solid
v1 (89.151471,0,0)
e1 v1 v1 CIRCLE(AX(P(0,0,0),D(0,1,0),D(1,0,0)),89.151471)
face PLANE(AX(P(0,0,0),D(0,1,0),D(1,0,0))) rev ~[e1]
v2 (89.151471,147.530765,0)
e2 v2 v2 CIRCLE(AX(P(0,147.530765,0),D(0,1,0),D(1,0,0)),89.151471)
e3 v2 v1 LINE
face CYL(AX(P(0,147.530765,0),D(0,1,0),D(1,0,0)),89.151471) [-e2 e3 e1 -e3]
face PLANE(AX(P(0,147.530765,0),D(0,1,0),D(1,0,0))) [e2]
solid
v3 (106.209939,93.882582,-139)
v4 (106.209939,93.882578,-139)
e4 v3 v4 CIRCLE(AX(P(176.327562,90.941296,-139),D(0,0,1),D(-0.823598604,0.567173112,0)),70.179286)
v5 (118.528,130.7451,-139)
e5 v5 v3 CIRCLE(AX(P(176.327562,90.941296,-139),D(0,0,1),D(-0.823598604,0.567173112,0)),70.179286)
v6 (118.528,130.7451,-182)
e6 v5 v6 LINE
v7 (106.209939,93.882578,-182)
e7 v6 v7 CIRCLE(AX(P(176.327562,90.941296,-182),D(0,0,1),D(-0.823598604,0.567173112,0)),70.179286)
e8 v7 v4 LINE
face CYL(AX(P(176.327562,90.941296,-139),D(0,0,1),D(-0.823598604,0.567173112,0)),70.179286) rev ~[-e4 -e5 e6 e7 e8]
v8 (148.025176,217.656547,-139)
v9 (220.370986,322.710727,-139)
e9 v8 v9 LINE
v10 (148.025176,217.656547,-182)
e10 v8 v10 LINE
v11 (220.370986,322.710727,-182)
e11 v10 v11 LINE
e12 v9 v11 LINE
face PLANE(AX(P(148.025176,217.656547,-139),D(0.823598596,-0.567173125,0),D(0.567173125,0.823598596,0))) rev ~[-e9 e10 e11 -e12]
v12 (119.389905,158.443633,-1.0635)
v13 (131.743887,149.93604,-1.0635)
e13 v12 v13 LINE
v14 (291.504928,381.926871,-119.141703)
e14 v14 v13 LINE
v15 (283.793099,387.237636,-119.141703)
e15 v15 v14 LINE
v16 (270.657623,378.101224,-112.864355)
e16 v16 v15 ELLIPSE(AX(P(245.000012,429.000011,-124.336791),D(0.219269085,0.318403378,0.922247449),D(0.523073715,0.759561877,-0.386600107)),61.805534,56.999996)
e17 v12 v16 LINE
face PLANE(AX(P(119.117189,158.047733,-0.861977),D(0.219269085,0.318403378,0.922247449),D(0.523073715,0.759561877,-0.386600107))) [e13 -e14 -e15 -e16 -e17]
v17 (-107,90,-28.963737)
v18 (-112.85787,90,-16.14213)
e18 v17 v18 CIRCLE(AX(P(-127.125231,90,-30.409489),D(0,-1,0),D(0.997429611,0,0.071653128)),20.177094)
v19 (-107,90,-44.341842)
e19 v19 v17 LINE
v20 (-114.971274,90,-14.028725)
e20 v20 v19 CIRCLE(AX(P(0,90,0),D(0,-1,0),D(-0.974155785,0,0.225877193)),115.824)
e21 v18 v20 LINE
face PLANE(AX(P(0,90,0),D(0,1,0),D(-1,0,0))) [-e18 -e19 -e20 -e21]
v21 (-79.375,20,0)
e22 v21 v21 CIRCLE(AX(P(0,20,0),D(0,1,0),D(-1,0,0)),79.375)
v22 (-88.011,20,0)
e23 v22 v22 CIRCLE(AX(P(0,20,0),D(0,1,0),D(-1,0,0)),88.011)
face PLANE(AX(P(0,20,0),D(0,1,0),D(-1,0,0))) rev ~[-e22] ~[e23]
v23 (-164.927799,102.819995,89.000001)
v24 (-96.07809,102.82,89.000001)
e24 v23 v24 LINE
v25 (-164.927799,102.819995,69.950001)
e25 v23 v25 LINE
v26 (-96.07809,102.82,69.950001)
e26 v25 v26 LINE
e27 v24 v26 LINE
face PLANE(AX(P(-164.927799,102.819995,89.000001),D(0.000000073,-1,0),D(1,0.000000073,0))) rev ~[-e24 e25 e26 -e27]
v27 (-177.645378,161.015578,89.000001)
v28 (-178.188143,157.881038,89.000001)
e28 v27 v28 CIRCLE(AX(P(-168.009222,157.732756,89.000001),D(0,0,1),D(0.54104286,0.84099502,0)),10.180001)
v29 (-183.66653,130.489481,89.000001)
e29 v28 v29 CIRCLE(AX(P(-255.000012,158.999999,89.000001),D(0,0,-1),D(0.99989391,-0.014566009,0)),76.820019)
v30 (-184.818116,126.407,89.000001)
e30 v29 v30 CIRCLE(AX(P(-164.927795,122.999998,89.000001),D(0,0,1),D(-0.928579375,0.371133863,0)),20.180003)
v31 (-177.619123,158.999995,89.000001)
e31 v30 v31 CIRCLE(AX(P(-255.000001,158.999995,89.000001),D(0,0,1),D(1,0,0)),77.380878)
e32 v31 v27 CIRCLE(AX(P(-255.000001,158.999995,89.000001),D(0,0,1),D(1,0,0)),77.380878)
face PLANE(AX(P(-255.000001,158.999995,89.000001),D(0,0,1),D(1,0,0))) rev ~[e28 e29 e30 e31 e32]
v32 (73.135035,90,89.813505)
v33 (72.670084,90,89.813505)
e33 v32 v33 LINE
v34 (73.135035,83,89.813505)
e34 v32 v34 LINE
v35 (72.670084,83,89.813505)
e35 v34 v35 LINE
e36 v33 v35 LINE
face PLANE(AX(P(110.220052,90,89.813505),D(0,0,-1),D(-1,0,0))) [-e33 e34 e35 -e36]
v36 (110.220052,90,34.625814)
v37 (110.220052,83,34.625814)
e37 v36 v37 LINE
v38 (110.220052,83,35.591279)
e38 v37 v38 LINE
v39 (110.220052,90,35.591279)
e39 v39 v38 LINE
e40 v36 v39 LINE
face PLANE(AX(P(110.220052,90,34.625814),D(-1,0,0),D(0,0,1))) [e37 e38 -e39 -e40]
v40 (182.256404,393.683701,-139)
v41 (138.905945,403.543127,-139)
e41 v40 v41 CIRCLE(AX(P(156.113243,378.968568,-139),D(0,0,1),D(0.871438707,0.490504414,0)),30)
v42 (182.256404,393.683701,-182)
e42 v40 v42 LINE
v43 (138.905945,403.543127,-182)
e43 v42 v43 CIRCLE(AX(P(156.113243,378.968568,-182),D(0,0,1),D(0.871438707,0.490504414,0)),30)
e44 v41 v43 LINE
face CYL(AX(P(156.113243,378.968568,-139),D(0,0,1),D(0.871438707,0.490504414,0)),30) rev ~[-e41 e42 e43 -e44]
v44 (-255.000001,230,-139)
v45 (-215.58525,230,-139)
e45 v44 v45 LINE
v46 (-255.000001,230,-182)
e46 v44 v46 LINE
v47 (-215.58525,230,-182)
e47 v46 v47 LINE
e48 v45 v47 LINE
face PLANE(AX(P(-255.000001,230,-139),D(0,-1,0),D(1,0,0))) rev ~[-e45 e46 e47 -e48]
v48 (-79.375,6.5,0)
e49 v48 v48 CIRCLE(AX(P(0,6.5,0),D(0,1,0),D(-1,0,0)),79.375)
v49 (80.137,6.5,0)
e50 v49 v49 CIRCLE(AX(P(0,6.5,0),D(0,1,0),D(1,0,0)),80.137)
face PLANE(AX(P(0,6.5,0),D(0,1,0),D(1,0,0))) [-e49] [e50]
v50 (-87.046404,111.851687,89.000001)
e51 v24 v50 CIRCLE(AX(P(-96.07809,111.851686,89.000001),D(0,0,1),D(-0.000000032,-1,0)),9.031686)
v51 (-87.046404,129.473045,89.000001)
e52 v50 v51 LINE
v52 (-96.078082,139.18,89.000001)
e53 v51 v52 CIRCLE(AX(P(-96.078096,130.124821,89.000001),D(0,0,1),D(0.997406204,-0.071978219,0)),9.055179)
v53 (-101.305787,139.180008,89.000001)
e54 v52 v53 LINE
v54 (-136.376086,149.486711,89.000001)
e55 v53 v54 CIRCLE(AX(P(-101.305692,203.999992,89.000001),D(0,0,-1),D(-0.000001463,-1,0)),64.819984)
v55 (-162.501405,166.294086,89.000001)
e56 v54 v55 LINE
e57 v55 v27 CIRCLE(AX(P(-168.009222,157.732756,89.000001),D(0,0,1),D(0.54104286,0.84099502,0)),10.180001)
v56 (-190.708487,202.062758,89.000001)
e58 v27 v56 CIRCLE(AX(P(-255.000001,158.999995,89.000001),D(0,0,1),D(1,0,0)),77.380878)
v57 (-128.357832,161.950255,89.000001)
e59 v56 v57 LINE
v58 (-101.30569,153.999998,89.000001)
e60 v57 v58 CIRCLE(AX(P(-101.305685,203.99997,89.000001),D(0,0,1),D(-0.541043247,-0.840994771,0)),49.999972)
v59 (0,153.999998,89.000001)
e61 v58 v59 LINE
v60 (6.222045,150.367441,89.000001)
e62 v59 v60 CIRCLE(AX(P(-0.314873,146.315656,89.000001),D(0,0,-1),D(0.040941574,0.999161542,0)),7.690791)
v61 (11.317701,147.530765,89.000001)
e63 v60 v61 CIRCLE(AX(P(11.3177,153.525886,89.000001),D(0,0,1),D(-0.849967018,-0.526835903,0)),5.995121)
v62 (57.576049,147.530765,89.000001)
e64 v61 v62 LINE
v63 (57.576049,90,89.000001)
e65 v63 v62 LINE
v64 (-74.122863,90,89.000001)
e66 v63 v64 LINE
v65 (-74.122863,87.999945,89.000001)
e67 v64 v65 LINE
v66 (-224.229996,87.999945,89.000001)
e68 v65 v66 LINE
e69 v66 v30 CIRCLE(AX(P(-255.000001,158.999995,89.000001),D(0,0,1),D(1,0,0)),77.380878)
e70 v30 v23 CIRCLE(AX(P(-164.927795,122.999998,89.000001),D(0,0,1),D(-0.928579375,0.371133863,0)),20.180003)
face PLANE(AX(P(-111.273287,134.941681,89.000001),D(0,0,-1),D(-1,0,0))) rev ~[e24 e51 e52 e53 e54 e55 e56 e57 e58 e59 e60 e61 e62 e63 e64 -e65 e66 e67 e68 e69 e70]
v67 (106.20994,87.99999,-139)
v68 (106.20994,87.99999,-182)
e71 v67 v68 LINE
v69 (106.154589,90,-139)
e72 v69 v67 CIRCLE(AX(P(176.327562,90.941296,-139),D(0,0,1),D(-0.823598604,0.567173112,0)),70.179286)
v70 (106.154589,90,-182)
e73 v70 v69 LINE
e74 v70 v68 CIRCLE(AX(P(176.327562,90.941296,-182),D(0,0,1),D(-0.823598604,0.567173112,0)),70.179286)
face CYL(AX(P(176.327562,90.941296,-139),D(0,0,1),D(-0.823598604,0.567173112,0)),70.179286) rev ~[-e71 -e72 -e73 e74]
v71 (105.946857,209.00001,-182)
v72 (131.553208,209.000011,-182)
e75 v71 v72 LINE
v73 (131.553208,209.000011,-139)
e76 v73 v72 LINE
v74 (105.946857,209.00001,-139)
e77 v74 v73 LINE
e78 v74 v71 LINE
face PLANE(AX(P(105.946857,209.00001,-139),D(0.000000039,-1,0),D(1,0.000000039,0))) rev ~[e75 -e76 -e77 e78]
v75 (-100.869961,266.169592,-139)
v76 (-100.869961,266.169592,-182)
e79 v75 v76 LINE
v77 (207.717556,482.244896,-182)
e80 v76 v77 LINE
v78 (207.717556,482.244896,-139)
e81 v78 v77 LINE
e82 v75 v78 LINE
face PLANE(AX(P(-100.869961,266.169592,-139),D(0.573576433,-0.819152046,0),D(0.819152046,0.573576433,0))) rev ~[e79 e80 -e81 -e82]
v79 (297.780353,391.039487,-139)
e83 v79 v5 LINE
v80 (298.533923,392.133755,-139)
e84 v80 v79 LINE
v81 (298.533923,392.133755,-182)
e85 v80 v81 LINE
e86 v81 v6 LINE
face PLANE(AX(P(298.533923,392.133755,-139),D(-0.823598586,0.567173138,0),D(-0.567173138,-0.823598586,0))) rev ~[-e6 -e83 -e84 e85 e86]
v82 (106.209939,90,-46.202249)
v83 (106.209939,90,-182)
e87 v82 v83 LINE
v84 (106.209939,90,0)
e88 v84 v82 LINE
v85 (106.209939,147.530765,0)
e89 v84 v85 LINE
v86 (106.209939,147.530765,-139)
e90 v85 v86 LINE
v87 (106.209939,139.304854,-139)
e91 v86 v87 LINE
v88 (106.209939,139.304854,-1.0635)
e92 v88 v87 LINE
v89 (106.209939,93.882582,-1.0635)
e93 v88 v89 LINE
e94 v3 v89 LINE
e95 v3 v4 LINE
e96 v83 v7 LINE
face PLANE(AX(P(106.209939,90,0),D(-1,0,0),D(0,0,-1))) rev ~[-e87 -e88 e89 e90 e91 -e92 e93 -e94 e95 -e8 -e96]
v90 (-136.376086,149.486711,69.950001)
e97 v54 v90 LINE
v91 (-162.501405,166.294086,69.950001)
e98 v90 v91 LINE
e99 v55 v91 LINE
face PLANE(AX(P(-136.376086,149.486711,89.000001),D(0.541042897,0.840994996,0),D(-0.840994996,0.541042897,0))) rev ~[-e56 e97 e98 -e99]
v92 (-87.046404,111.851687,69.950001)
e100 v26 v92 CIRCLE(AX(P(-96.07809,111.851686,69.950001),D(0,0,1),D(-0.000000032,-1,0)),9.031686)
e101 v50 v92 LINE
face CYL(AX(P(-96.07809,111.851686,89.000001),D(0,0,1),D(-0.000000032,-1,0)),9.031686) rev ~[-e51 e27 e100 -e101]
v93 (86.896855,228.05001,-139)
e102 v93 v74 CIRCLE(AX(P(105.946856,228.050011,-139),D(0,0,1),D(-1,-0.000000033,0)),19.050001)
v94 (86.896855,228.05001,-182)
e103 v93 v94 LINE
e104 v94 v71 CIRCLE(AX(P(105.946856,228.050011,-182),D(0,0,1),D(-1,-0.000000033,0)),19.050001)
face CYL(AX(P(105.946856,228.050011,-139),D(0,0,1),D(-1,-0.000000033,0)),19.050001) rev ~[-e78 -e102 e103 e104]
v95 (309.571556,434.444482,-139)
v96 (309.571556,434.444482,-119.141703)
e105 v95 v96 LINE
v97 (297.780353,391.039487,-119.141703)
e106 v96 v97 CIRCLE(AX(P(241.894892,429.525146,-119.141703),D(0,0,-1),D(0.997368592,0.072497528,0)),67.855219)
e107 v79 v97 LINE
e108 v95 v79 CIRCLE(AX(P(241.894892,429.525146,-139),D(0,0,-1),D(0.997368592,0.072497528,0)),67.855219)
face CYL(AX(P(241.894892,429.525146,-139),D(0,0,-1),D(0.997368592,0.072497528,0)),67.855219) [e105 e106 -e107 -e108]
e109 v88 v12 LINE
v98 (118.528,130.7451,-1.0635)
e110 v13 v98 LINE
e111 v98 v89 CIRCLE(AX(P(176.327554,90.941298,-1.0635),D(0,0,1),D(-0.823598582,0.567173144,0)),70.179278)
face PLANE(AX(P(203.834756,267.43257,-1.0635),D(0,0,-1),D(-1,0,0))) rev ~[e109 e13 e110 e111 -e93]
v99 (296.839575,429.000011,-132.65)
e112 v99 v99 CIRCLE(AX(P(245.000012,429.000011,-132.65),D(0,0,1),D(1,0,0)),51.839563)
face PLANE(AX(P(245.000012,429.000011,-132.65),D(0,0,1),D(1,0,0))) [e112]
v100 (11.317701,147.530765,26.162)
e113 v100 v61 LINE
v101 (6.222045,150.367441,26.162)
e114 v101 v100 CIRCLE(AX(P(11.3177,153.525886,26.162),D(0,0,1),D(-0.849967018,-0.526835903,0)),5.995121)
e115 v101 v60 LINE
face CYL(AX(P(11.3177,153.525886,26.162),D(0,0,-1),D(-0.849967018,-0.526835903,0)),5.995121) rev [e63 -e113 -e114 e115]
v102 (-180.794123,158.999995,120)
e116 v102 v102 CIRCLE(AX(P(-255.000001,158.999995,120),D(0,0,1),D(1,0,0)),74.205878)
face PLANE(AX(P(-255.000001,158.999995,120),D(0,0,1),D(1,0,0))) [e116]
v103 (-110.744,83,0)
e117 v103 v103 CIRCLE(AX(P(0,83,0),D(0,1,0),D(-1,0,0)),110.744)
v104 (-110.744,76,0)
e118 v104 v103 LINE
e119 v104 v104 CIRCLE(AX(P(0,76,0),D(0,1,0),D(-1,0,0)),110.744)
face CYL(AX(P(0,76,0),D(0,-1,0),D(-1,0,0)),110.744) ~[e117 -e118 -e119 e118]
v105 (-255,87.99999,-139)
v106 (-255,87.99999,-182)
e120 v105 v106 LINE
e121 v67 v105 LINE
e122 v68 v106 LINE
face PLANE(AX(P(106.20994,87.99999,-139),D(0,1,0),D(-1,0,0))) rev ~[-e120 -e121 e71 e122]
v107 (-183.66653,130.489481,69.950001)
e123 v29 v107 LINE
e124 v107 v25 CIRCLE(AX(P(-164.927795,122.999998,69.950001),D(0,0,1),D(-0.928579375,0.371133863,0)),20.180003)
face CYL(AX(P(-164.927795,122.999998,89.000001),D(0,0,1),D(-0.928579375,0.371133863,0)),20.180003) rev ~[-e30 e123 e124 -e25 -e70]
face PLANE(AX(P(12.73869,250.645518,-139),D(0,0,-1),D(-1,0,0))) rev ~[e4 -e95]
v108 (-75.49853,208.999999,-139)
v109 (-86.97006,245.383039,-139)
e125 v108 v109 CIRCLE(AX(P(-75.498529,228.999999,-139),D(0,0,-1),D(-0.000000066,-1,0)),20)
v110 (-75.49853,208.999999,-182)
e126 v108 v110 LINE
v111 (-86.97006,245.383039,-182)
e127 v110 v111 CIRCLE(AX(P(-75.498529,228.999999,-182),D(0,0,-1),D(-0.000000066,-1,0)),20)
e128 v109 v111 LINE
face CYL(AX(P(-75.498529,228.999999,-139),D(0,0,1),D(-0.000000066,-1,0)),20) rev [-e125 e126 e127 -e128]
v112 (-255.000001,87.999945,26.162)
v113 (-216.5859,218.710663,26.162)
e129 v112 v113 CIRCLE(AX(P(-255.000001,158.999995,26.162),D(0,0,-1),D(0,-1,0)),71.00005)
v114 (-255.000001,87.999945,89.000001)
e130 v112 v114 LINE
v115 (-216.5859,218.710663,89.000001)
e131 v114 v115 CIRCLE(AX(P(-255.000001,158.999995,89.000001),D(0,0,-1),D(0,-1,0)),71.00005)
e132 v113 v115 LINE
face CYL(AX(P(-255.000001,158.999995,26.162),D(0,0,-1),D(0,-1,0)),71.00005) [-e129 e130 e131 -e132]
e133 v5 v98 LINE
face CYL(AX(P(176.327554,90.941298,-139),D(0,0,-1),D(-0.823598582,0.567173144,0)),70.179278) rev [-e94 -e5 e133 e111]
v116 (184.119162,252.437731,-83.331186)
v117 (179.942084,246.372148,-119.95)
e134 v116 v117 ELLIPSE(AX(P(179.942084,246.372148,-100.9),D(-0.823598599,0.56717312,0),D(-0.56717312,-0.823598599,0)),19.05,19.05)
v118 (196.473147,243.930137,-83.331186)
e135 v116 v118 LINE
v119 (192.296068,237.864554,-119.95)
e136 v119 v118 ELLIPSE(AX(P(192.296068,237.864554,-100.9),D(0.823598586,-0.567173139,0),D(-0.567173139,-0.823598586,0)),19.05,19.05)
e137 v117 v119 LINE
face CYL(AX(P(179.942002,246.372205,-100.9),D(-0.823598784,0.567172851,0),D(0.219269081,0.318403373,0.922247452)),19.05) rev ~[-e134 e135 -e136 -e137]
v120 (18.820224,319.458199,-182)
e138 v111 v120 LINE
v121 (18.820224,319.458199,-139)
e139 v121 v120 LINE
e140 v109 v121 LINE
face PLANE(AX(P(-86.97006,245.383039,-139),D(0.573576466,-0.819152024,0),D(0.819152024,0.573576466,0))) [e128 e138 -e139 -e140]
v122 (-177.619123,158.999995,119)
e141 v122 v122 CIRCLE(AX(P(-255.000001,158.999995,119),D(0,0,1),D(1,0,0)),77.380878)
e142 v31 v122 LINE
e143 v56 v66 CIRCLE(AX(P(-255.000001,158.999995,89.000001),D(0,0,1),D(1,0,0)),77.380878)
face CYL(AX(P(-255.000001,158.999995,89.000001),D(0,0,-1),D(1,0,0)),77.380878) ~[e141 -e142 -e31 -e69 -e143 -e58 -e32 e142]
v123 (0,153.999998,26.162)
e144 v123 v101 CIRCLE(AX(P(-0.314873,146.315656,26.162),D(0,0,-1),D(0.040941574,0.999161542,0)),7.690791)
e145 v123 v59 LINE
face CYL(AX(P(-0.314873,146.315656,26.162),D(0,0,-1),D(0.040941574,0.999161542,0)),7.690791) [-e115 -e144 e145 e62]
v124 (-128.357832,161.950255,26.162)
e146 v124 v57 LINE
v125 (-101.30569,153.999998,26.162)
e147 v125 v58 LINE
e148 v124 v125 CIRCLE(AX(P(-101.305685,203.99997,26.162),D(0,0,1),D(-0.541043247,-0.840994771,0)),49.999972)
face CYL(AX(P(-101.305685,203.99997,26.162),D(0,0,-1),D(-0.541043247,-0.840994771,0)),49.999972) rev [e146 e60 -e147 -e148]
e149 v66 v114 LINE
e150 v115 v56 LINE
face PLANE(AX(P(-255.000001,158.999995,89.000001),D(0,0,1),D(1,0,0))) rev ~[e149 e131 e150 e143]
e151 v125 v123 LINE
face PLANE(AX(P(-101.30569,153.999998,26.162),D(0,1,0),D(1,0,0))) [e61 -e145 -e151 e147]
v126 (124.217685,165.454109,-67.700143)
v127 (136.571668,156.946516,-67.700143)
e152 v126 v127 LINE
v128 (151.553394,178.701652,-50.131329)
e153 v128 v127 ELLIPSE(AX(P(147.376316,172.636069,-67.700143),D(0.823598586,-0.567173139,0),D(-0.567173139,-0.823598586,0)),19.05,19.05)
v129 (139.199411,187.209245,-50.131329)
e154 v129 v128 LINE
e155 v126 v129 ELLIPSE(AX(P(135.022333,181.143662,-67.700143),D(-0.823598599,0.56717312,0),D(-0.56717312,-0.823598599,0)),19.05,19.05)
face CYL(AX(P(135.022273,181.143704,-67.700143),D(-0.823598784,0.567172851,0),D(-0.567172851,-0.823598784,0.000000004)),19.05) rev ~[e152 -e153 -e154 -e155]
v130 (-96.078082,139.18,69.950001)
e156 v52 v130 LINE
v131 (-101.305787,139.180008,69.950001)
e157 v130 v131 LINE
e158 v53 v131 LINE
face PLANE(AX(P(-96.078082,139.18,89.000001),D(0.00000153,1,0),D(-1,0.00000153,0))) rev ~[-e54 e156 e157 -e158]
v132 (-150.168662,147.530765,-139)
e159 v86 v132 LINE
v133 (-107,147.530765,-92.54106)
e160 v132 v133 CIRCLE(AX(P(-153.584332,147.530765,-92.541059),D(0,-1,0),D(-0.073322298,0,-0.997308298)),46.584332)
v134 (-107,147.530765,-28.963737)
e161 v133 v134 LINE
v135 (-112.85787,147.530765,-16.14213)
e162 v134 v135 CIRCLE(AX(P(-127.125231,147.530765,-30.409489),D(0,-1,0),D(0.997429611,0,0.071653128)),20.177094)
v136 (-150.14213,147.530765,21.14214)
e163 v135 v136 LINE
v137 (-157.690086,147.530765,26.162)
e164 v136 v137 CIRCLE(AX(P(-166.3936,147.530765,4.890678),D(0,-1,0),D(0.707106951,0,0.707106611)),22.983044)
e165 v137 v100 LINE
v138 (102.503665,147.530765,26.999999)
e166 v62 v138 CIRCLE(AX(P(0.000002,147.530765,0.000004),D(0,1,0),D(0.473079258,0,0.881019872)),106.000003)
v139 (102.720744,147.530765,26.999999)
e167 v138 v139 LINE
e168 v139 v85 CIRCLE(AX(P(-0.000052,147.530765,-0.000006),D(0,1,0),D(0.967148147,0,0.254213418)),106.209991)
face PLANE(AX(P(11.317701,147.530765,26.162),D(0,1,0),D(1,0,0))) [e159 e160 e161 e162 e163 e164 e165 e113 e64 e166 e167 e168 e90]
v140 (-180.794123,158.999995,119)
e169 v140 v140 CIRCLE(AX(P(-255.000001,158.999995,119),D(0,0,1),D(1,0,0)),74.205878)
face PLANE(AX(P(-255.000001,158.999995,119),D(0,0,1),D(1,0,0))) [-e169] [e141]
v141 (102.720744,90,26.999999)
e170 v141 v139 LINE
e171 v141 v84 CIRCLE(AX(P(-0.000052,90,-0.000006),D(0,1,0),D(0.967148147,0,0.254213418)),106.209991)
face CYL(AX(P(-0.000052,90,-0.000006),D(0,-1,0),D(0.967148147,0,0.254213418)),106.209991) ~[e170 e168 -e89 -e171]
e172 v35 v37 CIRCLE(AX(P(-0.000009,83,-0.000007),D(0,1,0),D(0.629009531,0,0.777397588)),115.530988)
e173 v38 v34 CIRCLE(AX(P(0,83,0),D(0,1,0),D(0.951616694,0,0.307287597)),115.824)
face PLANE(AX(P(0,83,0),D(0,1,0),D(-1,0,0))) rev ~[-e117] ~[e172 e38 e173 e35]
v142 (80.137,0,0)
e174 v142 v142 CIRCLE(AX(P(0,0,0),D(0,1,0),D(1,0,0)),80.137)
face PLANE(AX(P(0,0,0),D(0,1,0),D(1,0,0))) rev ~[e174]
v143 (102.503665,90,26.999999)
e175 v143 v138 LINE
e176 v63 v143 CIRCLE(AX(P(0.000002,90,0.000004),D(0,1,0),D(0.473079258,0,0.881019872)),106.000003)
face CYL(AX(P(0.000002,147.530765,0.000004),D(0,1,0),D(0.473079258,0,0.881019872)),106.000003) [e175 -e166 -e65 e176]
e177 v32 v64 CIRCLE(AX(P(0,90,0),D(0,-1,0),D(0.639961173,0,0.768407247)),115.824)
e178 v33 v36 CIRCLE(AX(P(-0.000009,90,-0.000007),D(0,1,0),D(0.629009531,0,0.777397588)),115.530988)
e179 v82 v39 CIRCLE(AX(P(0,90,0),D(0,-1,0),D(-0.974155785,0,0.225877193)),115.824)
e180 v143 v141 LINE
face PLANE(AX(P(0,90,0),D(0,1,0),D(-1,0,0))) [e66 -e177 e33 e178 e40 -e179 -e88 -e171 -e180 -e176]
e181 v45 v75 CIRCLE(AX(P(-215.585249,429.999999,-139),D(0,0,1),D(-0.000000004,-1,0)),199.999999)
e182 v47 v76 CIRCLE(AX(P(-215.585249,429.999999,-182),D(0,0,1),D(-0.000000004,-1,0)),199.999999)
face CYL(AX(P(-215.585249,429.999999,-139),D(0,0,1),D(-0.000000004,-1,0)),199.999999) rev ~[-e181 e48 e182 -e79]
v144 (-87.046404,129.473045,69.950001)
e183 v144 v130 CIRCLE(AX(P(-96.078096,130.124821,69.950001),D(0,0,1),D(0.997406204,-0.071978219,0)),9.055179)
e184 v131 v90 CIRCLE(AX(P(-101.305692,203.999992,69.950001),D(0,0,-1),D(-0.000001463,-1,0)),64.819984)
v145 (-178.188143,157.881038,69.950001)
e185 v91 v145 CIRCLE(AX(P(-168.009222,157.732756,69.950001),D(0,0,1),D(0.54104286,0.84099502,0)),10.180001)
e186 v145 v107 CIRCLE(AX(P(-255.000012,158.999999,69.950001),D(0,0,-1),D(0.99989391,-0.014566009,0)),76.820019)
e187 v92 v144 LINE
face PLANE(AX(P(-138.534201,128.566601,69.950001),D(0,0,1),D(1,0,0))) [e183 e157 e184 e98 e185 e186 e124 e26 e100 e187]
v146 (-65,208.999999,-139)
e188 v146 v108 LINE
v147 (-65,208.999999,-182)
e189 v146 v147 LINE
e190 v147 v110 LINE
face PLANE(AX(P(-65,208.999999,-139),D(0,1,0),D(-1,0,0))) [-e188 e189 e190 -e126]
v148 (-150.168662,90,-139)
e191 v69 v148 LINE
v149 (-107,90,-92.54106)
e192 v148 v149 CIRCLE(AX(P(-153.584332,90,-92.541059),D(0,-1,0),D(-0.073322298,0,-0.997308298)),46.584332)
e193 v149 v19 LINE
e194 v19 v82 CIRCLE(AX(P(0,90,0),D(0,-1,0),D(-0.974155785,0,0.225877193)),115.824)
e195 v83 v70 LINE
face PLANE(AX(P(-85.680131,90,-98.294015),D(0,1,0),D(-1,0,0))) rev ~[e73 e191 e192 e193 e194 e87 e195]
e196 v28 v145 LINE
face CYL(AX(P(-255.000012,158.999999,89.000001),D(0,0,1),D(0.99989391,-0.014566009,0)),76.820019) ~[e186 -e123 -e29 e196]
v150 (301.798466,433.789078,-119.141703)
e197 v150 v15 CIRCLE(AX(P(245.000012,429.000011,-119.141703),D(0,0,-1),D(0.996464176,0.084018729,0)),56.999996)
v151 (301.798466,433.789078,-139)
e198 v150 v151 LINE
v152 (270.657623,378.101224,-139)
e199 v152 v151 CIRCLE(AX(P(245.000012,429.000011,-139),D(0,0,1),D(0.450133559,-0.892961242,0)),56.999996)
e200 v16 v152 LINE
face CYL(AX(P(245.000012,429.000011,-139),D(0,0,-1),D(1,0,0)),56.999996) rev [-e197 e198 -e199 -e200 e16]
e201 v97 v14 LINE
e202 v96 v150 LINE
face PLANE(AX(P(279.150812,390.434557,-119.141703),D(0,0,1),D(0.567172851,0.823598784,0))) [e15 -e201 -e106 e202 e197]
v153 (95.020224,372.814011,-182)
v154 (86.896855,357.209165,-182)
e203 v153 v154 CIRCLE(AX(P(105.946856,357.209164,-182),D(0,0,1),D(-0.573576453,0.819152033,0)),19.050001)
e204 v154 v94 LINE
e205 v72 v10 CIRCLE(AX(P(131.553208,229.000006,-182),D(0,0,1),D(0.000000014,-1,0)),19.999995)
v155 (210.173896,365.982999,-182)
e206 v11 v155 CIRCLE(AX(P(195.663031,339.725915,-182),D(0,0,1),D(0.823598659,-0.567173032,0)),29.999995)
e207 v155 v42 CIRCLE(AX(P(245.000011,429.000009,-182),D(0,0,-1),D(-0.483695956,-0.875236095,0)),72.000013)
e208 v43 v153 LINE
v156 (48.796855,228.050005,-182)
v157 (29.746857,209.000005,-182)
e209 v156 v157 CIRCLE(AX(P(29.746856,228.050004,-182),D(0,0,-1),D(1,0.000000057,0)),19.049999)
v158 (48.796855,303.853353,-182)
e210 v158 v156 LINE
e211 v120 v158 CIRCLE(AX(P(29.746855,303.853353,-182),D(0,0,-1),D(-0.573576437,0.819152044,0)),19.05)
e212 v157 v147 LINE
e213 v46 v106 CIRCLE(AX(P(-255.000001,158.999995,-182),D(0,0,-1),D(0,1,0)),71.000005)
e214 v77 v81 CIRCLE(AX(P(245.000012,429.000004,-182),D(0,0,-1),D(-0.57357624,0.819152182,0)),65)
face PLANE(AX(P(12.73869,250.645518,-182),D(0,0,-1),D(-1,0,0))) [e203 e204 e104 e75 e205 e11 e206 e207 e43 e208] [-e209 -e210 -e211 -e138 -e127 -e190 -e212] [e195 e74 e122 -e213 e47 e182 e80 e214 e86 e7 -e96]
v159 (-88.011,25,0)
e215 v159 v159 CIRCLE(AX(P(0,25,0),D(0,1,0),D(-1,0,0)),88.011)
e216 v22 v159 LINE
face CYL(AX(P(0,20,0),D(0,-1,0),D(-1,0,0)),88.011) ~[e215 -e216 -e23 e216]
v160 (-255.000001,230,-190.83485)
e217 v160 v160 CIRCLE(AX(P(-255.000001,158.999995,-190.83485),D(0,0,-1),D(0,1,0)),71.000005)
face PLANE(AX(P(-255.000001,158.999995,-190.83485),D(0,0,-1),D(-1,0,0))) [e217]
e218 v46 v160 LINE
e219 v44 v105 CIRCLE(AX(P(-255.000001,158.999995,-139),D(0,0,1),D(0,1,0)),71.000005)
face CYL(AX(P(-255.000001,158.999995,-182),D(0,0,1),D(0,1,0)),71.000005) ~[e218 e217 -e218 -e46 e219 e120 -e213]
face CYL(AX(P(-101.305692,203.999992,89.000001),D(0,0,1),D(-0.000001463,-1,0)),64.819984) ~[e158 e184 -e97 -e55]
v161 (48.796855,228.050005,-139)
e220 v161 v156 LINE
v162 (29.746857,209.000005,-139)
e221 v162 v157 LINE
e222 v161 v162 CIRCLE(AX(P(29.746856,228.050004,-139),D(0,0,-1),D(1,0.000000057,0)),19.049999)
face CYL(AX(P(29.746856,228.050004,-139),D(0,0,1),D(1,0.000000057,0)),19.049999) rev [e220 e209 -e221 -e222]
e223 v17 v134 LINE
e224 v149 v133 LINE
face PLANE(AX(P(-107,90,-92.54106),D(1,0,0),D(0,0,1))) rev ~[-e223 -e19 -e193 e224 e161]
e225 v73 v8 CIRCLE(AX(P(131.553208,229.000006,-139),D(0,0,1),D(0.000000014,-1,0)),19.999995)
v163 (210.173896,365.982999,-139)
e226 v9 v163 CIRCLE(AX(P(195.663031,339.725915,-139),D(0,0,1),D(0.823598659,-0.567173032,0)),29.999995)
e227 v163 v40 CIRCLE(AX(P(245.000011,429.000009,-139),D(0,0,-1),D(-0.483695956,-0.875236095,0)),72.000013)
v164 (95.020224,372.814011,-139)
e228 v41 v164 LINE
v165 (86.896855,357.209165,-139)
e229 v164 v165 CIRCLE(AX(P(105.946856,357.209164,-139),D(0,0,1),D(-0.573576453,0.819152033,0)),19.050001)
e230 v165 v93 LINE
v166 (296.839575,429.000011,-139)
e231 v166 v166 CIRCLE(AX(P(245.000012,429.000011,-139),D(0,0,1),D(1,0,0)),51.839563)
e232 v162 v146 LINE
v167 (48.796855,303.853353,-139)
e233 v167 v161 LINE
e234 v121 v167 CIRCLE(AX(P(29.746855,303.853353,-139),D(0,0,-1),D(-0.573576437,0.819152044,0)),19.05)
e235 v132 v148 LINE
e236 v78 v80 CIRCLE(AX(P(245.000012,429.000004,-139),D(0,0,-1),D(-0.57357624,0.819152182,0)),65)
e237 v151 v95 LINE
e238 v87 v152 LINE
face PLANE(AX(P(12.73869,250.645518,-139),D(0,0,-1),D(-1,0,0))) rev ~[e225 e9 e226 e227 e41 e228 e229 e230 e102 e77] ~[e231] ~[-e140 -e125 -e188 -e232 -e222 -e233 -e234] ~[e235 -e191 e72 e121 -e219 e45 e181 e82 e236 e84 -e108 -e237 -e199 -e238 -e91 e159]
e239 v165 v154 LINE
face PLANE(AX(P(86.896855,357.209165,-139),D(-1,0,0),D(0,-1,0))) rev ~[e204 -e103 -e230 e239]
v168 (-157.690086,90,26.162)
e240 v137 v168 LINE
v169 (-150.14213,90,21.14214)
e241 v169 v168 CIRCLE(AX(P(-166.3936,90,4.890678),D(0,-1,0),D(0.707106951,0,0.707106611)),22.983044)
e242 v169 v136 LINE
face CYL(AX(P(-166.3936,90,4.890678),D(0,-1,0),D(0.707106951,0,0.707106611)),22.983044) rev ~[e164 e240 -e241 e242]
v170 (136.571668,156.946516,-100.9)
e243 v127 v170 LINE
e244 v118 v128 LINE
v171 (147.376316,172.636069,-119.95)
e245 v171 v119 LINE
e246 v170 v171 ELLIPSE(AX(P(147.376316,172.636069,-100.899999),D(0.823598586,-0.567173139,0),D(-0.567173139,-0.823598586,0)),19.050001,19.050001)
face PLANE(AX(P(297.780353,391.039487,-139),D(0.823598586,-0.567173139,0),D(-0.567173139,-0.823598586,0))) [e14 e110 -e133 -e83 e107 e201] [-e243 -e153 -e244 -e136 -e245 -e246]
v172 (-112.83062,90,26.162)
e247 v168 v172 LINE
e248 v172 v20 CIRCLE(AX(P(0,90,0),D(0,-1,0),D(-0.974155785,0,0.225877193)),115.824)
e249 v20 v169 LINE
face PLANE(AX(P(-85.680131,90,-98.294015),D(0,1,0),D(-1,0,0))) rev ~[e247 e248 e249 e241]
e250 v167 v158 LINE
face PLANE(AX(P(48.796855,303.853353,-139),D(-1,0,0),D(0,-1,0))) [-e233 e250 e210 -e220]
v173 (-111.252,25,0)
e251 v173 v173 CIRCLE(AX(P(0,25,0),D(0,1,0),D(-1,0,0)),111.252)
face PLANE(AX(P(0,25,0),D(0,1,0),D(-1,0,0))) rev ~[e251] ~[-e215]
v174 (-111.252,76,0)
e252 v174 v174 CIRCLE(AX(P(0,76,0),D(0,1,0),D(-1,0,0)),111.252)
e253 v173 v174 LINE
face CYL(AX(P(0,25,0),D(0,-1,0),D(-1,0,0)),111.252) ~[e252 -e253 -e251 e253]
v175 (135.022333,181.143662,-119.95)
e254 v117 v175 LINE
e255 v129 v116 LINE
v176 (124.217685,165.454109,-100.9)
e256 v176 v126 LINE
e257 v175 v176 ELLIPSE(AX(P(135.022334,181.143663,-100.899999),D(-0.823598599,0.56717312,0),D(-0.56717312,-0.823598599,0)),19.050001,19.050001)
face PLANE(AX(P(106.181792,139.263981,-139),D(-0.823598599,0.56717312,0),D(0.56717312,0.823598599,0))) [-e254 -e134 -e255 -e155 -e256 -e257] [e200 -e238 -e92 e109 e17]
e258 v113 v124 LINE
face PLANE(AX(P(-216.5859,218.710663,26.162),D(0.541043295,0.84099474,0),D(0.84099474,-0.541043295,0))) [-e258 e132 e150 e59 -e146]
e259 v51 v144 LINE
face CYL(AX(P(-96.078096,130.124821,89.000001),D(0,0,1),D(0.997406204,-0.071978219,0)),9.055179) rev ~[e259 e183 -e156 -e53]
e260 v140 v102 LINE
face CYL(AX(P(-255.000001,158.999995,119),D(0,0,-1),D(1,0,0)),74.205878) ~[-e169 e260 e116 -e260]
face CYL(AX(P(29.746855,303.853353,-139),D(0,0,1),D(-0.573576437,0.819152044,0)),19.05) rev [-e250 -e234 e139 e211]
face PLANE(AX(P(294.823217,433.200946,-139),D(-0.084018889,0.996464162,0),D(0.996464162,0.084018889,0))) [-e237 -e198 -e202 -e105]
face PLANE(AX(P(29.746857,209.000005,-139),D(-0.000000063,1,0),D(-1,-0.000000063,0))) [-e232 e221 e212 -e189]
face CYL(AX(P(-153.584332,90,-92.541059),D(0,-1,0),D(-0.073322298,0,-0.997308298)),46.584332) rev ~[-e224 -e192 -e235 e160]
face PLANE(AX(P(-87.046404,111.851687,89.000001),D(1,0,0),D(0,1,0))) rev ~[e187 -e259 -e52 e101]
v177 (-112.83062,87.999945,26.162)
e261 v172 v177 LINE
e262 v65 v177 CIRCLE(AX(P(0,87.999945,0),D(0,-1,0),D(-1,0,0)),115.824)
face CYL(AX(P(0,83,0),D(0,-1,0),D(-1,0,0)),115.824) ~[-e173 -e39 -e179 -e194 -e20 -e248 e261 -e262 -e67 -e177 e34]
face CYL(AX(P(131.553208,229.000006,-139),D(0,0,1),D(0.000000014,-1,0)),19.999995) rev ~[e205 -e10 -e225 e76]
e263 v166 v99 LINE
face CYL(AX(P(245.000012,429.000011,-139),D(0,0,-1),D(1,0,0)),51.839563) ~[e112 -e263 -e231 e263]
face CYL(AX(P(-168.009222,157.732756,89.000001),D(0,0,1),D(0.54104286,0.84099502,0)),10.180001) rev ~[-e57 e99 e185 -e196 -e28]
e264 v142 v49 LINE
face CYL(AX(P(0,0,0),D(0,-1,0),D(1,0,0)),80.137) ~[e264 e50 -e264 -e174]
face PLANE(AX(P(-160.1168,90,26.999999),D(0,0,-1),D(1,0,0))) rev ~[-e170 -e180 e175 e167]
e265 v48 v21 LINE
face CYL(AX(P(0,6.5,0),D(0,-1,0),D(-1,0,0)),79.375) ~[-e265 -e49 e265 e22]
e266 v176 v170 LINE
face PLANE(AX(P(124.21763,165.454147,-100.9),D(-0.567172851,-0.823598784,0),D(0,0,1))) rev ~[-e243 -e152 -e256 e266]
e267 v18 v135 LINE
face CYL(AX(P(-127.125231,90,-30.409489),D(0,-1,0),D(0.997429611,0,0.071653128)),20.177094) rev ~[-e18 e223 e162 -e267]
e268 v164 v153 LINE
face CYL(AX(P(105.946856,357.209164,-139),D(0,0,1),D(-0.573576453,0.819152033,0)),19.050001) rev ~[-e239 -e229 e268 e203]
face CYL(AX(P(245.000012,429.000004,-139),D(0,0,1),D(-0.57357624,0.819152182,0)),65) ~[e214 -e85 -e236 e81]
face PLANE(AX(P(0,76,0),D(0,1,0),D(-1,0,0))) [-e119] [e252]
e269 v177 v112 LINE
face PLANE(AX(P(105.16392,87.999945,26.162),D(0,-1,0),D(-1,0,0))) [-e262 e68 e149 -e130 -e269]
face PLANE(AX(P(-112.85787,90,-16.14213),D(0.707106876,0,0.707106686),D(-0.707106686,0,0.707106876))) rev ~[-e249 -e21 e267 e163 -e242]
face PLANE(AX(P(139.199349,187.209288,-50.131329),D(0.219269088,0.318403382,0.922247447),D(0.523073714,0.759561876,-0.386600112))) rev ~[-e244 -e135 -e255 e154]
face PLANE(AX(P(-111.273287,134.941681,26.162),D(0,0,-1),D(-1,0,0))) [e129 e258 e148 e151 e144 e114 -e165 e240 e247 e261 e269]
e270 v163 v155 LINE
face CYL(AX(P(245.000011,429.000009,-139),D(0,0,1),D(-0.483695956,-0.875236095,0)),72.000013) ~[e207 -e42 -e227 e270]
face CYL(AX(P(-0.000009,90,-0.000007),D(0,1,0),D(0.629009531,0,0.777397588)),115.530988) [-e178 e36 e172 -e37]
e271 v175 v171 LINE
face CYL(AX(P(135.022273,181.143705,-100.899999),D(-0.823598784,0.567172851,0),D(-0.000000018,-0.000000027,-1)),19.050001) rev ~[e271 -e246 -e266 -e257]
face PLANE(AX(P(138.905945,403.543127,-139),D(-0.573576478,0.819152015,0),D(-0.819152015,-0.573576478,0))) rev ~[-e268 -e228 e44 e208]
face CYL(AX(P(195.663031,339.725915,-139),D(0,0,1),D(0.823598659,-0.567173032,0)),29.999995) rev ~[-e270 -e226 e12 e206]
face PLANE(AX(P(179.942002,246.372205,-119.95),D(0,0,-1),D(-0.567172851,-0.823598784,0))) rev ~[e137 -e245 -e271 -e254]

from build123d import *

# Parameters (mm, degrees)
SKETCH3_R               = 80.137
EXTRUDE1_DEPTH          = 6.5
SKETCH4_R               = 79.375
EXTRUDE2_DEPTH          = 13.5
SKETCH5_R               = 88.011
EXTRUDE3_DEPTH          = 5
SKETCH6_R               = 111.252
EXTRUDE4_DEPTH          = 51
SKETCH7_R               = 110.744
EXTRUDE5_DEPTH          = 7
SKETCH8_R               = 115.824
EXTRUDE6_DEPTH          = 7
EXTRUDE7_DEPTH          = 62.838001
CUT_EXTRUDE1_DEPTH      = 57.530765
CUT_EXTRUDE2_DEPTH      = 12.7
CUT_EXTRUDE3_DEPTH      = 19.05
SKETCH18_R              = 77.380878
EXTRUDE13_DEPTH         = 29.999999
SKETCH19_R              = 74.205878
EXTRUDE14_DEPTH         = 1
EXTRUDE15_DEPTH         = 57.530765
EXTRUDE17_START         = -43
EXTRUDE17_DEPTH         = 43
CUT_EXTRUDE4_DEPTH      = 43
EXTRUDE18_DEPTH         = 8.83485
EXTRUDE19_DEPTH         = 137.9365
CUT_EXTRUDE8_DEPTH      = 25.4
CUT_EXTRUDE8_DEPTH_BACK = 25.4
CUT_EXTRUDE9_DEPTH      = 247.851187
SKETCH34_R              = 56.999996
CUT_EXTRUDE10_DEPTH     = 101.6
SKETCH35_R              = 51.839563
EXTRUDE25_DEPTH         = 6.35
SKETCH40_R              = 89.151471
BOSS_EXTRUDE1_DEPTH     = 147.530765


with BuildPart() as part:
    # Sketch3 → Extrude1 (new body)
    with BuildSketch(Plane(origin=(0, 0, 0), x_dir=(1, 0, 0), z_dir=(0, 1, 0))):
        Circle(SKETCH3_R)
    extrude(amount=EXTRUDE1_DEPTH)

    # Sketch4 → Extrude2 (add)
    with BuildSketch(Plane(origin=(0, 6.5, 0), x_dir=(-1, 0, 0), z_dir=(0, 1, 0))):
        Circle(SKETCH4_R)
    extrude(amount=EXTRUDE2_DEPTH)

    # Sketch5 → Extrude3 (add)
    with BuildSketch(Plane(origin=(0, 20, 0), x_dir=(-1, 0, 0), z_dir=(0, 1, 0))):
        Circle(SKETCH5_R)
    extrude(amount=EXTRUDE3_DEPTH)

    # Sketch6 → Extrude4 (add)
    with BuildSketch(Plane(origin=(0, 25, 0), x_dir=(-1, 0, 0), z_dir=(0, 1, 0))):
        Circle(SKETCH6_R)
    extrude(amount=EXTRUDE4_DEPTH)

    # Sketch7 → Extrude5 (add)
    with BuildSketch(Plane(origin=(0, 76, 0), x_dir=(-1, 0, 0), z_dir=(0, 1, 0))):
        Circle(SKETCH7_R)
    extrude(amount=EXTRUDE5_DEPTH)

    # Sketch8 → Extrude6 (add)
    with BuildSketch(Plane(origin=(0, 83, 0), x_dir=(-1, 0, 0), z_dir=(0, 1, 0))):
        Circle(SKETCH8_R)
    extrude(amount=EXTRUDE6_DEPTH)

    # Sketch9 → Extrude7 (add)
    with BuildSketch(Plane.XY.offset(26.162)):
        with BuildLine():
            Line((-216.5859, 218.710663), (-128.357832, 161.950255))
            ThreePointArc((-128.357832, 161.950255), (-115.403783, 156.02872), (-101.30569, 153.999998))
            Line((-101.30569, 153.999998), (0, 153.999998))
            ThreePointArc((0, 153.999998), (3.562707, 152.95739), (6.222045, 150.367441))
            ThreePointArc((6.222045, 150.367441), (8.401692, 148.287721), (11.317701, 147.530765))
            Line((11.317701, 147.530765), (100.774792, 147.530765))
            Line((100.774792, 147.530765), (105.16392, 147.530765))
            Line((105.16392, 147.530765), (105.16392, 114.26347))
            Line((105.16392, 114.26347), (105.16392, 87.999945))
            Line((105.16392, 87.999945), (91.075027, 87.999945))
            Line((91.075027, 87.999945), (-255.000001, 87.999945))
            ThreePointArc((-255.000001, 87.999945), (-323.119262, 179.019319), (-216.5859, 218.710663))
        make_face()
    extrude(amount=EXTRUDE7_DEPTH)

    # Sketch10 → Cut-Extrude1 (cut)
    with BuildSketch(Plane(origin=(0, 147.530765, 0), x_dir=(-1, 0, 0), z_dir=(0, 1, 0))):
        with BuildLine():
            Line((-106.000005, 0), (-149.912166, 0))
            ThreePointArc((-149.912166, 0), (-141.516605, 49.46421), (-117.270277, 93.388113))
            Line((-117.270277, 93.388113), (-50.146405, 93.388113))
            ThreePointArc((-50.146405, 93.388113), (-90.971206, 54.408098), (-106.000005, 0))
        make_face()
    extrude(amount=-CUT_EXTRUDE1_DEPTH, mode=Mode.SUBTRACT)

    # Sketch11 → Cut-Extrude2 (cut)
    with BuildSketch(Plane(origin=(0, 90, 0), x_dir=(-1, 0, 0), z_dir=(0, 1, 0))):
        with BuildLine():
            Line((-110.220052, 34.625814), (-110.220052, 89.813505))
            Line((-110.220052, 89.813505), (-72.670084, 89.813505))
            ThreePointArc((-72.670084, 89.813505), (-95.517646, 64.990661), (-110.220052, 34.625814))
        make_face()
    extrude(amount=-CUT_EXTRUDE2_DEPTH, mode=Mode.SUBTRACT)

    # Sketch17 → Cut-Extrude3 (cut)
    with BuildSketch(Plane.XY.offset(89.000001)):
        with BuildLine():
            Line((-96.078082, 139.18), (-101.305787, 139.180008))
            ThreePointArc((-101.305787, 139.180008), (-119.582503, 141.810053), (-136.376086, 149.486711))
            Line((-136.376086, 149.486711), (-162.501405, 166.294086))
            ThreePointArc((-162.501405, 166.294086), (-172.82063, 166.703975), (-178.188143, 157.881038))
            ThreePointArc((-178.188143, 157.881038), (-179.671826, 143.934154), (-183.66653, 130.489481))
            ThreePointArc((-183.66653, 130.489481), (-181.636631, 111.684198), (-164.927799, 102.819995))
            Line((-164.927799, 102.819995), (-96.07809, 102.82))
            ThreePointArc((-96.07809, 102.82), (-89.691723, 105.46532), (-87.046404, 111.851687))
            Line((-87.046404, 111.851687), (-87.046404, 129.473045))
            ThreePointArc((-87.046404, 129.473045), (-89.448679, 136.293054), (-96.078082, 139.18))
        make_face()
    extrude(amount=-CUT_EXTRUDE3_DEPTH, mode=Mode.SUBTRACT)

    # Sketch18 → Extrude13 (add)
    with BuildSketch(Plane.XY.offset(89.000001)):
        with Locations((-255.000001, 158.999995)):
            Circle(SKETCH18_R)
    extrude(amount=EXTRUDE13_DEPTH)

    # Sketch19 → Extrude14 (add)
    with BuildSketch(Plane.XY.offset(119)):
        with Locations((-255.000001, 158.999995)):
            Circle(SKETCH19_R)
    extrude(amount=EXTRUDE14_DEPTH)

    # Sketch20 → Extrude15 (add)
    with BuildSketch(Plane(origin=(0, 90, 0), x_dir=(-1, 0, 0), z_dir=(0, 1, 0))):
        with BuildLine():
            Line((160.1168, 26.999999), (-102.720744, 26.999999))
            ThreePointArc((-102.720744, 26.999999), (-105.334028, 13.61226), (-106.209939, 0))
            Line((-106.209939, 0), (-106.209939, -182))
            Line((-106.209939, -182), (326.000001, -182))
            Line((326.000001, -182), (326.000001, -139))
            Line((326.000001, -139), (157.000002, -139))
            ThreePointArc((157.000002, -139), (121.874844, -126.667418), (107, -92.54106))
            Line((107, -92.54106), (107, -28.963737))
            ThreePointArc((107, -28.963737), (108.77282, -22.024733), (112.85787, -16.14213))
            Line((112.85787, -16.14213), (150.14213, 21.14214))
            ThreePointArc((150.14213, 21.14214), (154.754899, 24.708875), (160.1168, 26.999999))
        make_face()
    extrude(amount=EXTRUDE15_DEPTH)

    # Sketch21 → Extrude17 (add)
    with BuildSketch(Plane(origin=(0, 0, -182), x_dir=(-1, 0, 0), z_dir=(0, 0, -1)).offset(EXTRUDE17_START)):
        with BuildLine():
            Line((-298.533923, 392.133755), (-118.528, 130.7451))
            ThreePointArc((-118.528, 130.7451), (-108.8925, 110.374376), (-106.20994, 87.99999))
            Line((-106.20994, 87.99999), (255, 87.99999))
            ThreePointArc((255, 87.99999), (326.000006, 158.999994), (255.000001, 230))
            Line((255.000001, 230), (215.58525, 230))
            ThreePointArc((215.58525, 230), (155.444089, 239.25661), (100.869961, 266.169592))
            Line((100.869961, 266.169592), (-207.717556, 482.244896))
            ThreePointArc((-207.717556, 482.244896), (-290.78245, 475.140749), (-298.533923, 392.133755))
        make_face()
        with BuildLine():
            Line((-138.905945, 403.543127), (-95.020224, 372.814011))
            ThreePointArc((-95.020224, 372.814011), (-89.049299, 366.005476), (-86.896855, 357.209165))
            Line((-86.896855, 357.209165), (-86.896855, 228.05001))
            ThreePointArc((-86.896855, 228.05001), (-92.476472, 214.579625), (-105.946857, 209.00001))
            Line((-105.946857, 209.00001), (-131.553208, 209.000011))
            ThreePointArc((-131.553208, 209.000011), (-140.857258, 211.295926), (-148.025176, 217.656547))
            Line((-148.025176, 217.656547), (-220.370986, 322.710727))
            ThreePointArc((-220.370986, 322.710727), (-224.863225, 346.606927), (-210.173896, 365.982999))
            ThreePointArc((-210.173896, 365.982999), (-194.287144, 377.890255), (-182.256404, 393.683701))
            ThreePointArc((-182.256404, 393.683701), (-162.766399, 408.221526), (-138.905945, 403.543127))
        make_face(mode=Mode.SUBTRACT)
        with BuildLine():
            Line((-48.796855, 303.853353), (-48.796855, 228.050005))
            ThreePointArc((-48.796855, 228.050005), (-43.21724, 214.579621), (-29.746857, 209.000005))
            Line((-29.746857, 209.000005), (65, 208.999999))
            Line((65, 208.999999), (75.49853, 208.999999))
            ThreePointArc((75.49853, 208.999999), (94.572868, 222.985883), (86.97006, 245.383039))
            Line((86.97006, 245.383039), (-18.820224, 319.458199))
            ThreePointArc((-18.820224, 319.458199), (-38.543166, 320.750909), (-48.796855, 303.853353))
        make_face(mode=Mode.SUBTRACT)
    extrude(amount=EXTRUDE17_DEPTH)

    # Sketch22 → Cut-Extrude4 (cut)
    with BuildSketch(Plane(origin=(0, 0, -182), x_dir=(-1, 0, 0), z_dir=(0, 0, -1))):
        with BuildLine():
            Line((255.000001, 230), (339.549751, 230))
            Line((339.549751, 230), (339.549751, 79.674869))
            Line((339.549751, 79.674869), (255, 79.674869))
            Line((255, 79.674869), (255, 87.99999))
            ThreePointArc((255, 87.99999), (326.000006, 158.999994), (255.000001, 230))
        make_face()
    extrude(amount=-CUT_EXTRUDE4_DEPTH, mode=Mode.SUBTRACT)

    # Sketch23 → Extrude18 (add)
    with BuildSketch(Plane(origin=(0, 0, -182), x_dir=(-1, 0, 0), z_dir=(0, 0, -1))):
        with BuildLine():
            ThreePointArc((255, 87.99999), (326.000006, 158.999994), (255.000001, 230))
            ThreePointArc((255.000001, 230), (183.999996, 158.999995), (255, 87.99999))
        make_face()
    extrude(amount=EXTRUDE18_DEPTH)

    # Sketch26 → Extrude19 (add)
    with BuildSketch(Plane.XY.offset(-139)):
        with BuildLine():
            Line((297.780353, 391.039487), (118.528, 130.7451))
            ThreePointArc((118.528, 130.7451), (109.766215, 113.183583), (106.209939, 93.882582))
            Line((106.209939, 93.882582), (106.181792, 139.263981))
            Line((106.181792, 139.263981), (286.179939, 400.641357))
            ThreePointArc((286.179939, 400.641357), (293.326239, 416.171316), (294.823217, 433.200946))
            Line((294.823217, 433.200946), (309.571556, 434.444482))
            ThreePointArc((309.571556, 434.444482), (307.376936, 411.736593), (297.780353, 391.039487))
        make_face()
    extrude(amount=EXTRUDE19_DEPTH)

    # Sketch27 → Cut-Extrude8 (cut, two sides)
    with BuildSketch(Plane(origin=(6.971258, -4.800774, 0), x_dir=(0, 0, 1), z_dir=(-0.823599, 0.567173, 0))) as cut_extrude8_sk:
        Polygon((-0.861977, 197.72796), (-119.141703, 479.888191), (-119.141703, 538.066737), (6.897193, 541.881723), (6.897193, 195.671685), align=None)
    extrude(amount=CUT_EXTRUDE8_DEPTH, mode=Mode.SUBTRACT)
    extrude(cut_extrude8_sk.sketch, amount=-CUT_EXTRUDE8_DEPTH_BACK, mode=Mode.SUBTRACT)

    # Sketch28 → Cut-Extrude9 (cut, through all)
    with BuildSketch(Plane(origin=(6.971258, -4.800774, 0), x_dir=(0, 0, 1), z_dir=(-0.823599, 0.567173, 0))):
        with BuildLine():
            Line((-50.131329, 233.135437), (-83.331186, 312.334802))
            ThreePointArc((-83.331186, 312.334802), (-104.656101, 323.646103), (-119.95, 304.97007))
            Line((-119.95, 304.97007), (-119.95, 225.770705))
            ThreePointArc((-119.95, 225.770705), (-114.370384, 212.300321), (-100.9, 206.720705))
            Line((-100.9, 206.720705), (-67.700143, 206.720705))
            ThreePointArc((-67.700143, 206.720705), (-51.838229, 215.22072), (-50.131329, 233.135437))
        make_face()
    extrude(amount=-CUT_EXTRUDE9_DEPTH, mode=Mode.SUBTRACT)

    # Sketch34 → Cut-Extrude10 (cut)
    with BuildSketch(Plane.XY.offset(-139)):
        with Locations((245.000012, 429.000011)):
            Circle(SKETCH34_R)
    extrude(amount=CUT_EXTRUDE10_DEPTH, mode=Mode.SUBTRACT)

    # Sketch35 → Extrude25 (add)
    with BuildSketch(Plane.XY.offset(-139)):
        with Locations((245.000012, 429.000011)):
            Circle(SKETCH35_R)
    extrude(amount=EXTRUDE25_DEPTH)


with BuildPart() as body_2:
    # Sketch40 → Boss-Extrude1 (new body)
    with BuildSketch(Plane(origin=(0, 147.530765, 0), x_dir=(1, 0, 0), z_dir=(0, 1, 0))):
        Circle(SKETCH40_R)
    extrude(amount=-BOSS_EXTRUDE1_DEPTH)


solid = Compound([part.part, body_2.part])
